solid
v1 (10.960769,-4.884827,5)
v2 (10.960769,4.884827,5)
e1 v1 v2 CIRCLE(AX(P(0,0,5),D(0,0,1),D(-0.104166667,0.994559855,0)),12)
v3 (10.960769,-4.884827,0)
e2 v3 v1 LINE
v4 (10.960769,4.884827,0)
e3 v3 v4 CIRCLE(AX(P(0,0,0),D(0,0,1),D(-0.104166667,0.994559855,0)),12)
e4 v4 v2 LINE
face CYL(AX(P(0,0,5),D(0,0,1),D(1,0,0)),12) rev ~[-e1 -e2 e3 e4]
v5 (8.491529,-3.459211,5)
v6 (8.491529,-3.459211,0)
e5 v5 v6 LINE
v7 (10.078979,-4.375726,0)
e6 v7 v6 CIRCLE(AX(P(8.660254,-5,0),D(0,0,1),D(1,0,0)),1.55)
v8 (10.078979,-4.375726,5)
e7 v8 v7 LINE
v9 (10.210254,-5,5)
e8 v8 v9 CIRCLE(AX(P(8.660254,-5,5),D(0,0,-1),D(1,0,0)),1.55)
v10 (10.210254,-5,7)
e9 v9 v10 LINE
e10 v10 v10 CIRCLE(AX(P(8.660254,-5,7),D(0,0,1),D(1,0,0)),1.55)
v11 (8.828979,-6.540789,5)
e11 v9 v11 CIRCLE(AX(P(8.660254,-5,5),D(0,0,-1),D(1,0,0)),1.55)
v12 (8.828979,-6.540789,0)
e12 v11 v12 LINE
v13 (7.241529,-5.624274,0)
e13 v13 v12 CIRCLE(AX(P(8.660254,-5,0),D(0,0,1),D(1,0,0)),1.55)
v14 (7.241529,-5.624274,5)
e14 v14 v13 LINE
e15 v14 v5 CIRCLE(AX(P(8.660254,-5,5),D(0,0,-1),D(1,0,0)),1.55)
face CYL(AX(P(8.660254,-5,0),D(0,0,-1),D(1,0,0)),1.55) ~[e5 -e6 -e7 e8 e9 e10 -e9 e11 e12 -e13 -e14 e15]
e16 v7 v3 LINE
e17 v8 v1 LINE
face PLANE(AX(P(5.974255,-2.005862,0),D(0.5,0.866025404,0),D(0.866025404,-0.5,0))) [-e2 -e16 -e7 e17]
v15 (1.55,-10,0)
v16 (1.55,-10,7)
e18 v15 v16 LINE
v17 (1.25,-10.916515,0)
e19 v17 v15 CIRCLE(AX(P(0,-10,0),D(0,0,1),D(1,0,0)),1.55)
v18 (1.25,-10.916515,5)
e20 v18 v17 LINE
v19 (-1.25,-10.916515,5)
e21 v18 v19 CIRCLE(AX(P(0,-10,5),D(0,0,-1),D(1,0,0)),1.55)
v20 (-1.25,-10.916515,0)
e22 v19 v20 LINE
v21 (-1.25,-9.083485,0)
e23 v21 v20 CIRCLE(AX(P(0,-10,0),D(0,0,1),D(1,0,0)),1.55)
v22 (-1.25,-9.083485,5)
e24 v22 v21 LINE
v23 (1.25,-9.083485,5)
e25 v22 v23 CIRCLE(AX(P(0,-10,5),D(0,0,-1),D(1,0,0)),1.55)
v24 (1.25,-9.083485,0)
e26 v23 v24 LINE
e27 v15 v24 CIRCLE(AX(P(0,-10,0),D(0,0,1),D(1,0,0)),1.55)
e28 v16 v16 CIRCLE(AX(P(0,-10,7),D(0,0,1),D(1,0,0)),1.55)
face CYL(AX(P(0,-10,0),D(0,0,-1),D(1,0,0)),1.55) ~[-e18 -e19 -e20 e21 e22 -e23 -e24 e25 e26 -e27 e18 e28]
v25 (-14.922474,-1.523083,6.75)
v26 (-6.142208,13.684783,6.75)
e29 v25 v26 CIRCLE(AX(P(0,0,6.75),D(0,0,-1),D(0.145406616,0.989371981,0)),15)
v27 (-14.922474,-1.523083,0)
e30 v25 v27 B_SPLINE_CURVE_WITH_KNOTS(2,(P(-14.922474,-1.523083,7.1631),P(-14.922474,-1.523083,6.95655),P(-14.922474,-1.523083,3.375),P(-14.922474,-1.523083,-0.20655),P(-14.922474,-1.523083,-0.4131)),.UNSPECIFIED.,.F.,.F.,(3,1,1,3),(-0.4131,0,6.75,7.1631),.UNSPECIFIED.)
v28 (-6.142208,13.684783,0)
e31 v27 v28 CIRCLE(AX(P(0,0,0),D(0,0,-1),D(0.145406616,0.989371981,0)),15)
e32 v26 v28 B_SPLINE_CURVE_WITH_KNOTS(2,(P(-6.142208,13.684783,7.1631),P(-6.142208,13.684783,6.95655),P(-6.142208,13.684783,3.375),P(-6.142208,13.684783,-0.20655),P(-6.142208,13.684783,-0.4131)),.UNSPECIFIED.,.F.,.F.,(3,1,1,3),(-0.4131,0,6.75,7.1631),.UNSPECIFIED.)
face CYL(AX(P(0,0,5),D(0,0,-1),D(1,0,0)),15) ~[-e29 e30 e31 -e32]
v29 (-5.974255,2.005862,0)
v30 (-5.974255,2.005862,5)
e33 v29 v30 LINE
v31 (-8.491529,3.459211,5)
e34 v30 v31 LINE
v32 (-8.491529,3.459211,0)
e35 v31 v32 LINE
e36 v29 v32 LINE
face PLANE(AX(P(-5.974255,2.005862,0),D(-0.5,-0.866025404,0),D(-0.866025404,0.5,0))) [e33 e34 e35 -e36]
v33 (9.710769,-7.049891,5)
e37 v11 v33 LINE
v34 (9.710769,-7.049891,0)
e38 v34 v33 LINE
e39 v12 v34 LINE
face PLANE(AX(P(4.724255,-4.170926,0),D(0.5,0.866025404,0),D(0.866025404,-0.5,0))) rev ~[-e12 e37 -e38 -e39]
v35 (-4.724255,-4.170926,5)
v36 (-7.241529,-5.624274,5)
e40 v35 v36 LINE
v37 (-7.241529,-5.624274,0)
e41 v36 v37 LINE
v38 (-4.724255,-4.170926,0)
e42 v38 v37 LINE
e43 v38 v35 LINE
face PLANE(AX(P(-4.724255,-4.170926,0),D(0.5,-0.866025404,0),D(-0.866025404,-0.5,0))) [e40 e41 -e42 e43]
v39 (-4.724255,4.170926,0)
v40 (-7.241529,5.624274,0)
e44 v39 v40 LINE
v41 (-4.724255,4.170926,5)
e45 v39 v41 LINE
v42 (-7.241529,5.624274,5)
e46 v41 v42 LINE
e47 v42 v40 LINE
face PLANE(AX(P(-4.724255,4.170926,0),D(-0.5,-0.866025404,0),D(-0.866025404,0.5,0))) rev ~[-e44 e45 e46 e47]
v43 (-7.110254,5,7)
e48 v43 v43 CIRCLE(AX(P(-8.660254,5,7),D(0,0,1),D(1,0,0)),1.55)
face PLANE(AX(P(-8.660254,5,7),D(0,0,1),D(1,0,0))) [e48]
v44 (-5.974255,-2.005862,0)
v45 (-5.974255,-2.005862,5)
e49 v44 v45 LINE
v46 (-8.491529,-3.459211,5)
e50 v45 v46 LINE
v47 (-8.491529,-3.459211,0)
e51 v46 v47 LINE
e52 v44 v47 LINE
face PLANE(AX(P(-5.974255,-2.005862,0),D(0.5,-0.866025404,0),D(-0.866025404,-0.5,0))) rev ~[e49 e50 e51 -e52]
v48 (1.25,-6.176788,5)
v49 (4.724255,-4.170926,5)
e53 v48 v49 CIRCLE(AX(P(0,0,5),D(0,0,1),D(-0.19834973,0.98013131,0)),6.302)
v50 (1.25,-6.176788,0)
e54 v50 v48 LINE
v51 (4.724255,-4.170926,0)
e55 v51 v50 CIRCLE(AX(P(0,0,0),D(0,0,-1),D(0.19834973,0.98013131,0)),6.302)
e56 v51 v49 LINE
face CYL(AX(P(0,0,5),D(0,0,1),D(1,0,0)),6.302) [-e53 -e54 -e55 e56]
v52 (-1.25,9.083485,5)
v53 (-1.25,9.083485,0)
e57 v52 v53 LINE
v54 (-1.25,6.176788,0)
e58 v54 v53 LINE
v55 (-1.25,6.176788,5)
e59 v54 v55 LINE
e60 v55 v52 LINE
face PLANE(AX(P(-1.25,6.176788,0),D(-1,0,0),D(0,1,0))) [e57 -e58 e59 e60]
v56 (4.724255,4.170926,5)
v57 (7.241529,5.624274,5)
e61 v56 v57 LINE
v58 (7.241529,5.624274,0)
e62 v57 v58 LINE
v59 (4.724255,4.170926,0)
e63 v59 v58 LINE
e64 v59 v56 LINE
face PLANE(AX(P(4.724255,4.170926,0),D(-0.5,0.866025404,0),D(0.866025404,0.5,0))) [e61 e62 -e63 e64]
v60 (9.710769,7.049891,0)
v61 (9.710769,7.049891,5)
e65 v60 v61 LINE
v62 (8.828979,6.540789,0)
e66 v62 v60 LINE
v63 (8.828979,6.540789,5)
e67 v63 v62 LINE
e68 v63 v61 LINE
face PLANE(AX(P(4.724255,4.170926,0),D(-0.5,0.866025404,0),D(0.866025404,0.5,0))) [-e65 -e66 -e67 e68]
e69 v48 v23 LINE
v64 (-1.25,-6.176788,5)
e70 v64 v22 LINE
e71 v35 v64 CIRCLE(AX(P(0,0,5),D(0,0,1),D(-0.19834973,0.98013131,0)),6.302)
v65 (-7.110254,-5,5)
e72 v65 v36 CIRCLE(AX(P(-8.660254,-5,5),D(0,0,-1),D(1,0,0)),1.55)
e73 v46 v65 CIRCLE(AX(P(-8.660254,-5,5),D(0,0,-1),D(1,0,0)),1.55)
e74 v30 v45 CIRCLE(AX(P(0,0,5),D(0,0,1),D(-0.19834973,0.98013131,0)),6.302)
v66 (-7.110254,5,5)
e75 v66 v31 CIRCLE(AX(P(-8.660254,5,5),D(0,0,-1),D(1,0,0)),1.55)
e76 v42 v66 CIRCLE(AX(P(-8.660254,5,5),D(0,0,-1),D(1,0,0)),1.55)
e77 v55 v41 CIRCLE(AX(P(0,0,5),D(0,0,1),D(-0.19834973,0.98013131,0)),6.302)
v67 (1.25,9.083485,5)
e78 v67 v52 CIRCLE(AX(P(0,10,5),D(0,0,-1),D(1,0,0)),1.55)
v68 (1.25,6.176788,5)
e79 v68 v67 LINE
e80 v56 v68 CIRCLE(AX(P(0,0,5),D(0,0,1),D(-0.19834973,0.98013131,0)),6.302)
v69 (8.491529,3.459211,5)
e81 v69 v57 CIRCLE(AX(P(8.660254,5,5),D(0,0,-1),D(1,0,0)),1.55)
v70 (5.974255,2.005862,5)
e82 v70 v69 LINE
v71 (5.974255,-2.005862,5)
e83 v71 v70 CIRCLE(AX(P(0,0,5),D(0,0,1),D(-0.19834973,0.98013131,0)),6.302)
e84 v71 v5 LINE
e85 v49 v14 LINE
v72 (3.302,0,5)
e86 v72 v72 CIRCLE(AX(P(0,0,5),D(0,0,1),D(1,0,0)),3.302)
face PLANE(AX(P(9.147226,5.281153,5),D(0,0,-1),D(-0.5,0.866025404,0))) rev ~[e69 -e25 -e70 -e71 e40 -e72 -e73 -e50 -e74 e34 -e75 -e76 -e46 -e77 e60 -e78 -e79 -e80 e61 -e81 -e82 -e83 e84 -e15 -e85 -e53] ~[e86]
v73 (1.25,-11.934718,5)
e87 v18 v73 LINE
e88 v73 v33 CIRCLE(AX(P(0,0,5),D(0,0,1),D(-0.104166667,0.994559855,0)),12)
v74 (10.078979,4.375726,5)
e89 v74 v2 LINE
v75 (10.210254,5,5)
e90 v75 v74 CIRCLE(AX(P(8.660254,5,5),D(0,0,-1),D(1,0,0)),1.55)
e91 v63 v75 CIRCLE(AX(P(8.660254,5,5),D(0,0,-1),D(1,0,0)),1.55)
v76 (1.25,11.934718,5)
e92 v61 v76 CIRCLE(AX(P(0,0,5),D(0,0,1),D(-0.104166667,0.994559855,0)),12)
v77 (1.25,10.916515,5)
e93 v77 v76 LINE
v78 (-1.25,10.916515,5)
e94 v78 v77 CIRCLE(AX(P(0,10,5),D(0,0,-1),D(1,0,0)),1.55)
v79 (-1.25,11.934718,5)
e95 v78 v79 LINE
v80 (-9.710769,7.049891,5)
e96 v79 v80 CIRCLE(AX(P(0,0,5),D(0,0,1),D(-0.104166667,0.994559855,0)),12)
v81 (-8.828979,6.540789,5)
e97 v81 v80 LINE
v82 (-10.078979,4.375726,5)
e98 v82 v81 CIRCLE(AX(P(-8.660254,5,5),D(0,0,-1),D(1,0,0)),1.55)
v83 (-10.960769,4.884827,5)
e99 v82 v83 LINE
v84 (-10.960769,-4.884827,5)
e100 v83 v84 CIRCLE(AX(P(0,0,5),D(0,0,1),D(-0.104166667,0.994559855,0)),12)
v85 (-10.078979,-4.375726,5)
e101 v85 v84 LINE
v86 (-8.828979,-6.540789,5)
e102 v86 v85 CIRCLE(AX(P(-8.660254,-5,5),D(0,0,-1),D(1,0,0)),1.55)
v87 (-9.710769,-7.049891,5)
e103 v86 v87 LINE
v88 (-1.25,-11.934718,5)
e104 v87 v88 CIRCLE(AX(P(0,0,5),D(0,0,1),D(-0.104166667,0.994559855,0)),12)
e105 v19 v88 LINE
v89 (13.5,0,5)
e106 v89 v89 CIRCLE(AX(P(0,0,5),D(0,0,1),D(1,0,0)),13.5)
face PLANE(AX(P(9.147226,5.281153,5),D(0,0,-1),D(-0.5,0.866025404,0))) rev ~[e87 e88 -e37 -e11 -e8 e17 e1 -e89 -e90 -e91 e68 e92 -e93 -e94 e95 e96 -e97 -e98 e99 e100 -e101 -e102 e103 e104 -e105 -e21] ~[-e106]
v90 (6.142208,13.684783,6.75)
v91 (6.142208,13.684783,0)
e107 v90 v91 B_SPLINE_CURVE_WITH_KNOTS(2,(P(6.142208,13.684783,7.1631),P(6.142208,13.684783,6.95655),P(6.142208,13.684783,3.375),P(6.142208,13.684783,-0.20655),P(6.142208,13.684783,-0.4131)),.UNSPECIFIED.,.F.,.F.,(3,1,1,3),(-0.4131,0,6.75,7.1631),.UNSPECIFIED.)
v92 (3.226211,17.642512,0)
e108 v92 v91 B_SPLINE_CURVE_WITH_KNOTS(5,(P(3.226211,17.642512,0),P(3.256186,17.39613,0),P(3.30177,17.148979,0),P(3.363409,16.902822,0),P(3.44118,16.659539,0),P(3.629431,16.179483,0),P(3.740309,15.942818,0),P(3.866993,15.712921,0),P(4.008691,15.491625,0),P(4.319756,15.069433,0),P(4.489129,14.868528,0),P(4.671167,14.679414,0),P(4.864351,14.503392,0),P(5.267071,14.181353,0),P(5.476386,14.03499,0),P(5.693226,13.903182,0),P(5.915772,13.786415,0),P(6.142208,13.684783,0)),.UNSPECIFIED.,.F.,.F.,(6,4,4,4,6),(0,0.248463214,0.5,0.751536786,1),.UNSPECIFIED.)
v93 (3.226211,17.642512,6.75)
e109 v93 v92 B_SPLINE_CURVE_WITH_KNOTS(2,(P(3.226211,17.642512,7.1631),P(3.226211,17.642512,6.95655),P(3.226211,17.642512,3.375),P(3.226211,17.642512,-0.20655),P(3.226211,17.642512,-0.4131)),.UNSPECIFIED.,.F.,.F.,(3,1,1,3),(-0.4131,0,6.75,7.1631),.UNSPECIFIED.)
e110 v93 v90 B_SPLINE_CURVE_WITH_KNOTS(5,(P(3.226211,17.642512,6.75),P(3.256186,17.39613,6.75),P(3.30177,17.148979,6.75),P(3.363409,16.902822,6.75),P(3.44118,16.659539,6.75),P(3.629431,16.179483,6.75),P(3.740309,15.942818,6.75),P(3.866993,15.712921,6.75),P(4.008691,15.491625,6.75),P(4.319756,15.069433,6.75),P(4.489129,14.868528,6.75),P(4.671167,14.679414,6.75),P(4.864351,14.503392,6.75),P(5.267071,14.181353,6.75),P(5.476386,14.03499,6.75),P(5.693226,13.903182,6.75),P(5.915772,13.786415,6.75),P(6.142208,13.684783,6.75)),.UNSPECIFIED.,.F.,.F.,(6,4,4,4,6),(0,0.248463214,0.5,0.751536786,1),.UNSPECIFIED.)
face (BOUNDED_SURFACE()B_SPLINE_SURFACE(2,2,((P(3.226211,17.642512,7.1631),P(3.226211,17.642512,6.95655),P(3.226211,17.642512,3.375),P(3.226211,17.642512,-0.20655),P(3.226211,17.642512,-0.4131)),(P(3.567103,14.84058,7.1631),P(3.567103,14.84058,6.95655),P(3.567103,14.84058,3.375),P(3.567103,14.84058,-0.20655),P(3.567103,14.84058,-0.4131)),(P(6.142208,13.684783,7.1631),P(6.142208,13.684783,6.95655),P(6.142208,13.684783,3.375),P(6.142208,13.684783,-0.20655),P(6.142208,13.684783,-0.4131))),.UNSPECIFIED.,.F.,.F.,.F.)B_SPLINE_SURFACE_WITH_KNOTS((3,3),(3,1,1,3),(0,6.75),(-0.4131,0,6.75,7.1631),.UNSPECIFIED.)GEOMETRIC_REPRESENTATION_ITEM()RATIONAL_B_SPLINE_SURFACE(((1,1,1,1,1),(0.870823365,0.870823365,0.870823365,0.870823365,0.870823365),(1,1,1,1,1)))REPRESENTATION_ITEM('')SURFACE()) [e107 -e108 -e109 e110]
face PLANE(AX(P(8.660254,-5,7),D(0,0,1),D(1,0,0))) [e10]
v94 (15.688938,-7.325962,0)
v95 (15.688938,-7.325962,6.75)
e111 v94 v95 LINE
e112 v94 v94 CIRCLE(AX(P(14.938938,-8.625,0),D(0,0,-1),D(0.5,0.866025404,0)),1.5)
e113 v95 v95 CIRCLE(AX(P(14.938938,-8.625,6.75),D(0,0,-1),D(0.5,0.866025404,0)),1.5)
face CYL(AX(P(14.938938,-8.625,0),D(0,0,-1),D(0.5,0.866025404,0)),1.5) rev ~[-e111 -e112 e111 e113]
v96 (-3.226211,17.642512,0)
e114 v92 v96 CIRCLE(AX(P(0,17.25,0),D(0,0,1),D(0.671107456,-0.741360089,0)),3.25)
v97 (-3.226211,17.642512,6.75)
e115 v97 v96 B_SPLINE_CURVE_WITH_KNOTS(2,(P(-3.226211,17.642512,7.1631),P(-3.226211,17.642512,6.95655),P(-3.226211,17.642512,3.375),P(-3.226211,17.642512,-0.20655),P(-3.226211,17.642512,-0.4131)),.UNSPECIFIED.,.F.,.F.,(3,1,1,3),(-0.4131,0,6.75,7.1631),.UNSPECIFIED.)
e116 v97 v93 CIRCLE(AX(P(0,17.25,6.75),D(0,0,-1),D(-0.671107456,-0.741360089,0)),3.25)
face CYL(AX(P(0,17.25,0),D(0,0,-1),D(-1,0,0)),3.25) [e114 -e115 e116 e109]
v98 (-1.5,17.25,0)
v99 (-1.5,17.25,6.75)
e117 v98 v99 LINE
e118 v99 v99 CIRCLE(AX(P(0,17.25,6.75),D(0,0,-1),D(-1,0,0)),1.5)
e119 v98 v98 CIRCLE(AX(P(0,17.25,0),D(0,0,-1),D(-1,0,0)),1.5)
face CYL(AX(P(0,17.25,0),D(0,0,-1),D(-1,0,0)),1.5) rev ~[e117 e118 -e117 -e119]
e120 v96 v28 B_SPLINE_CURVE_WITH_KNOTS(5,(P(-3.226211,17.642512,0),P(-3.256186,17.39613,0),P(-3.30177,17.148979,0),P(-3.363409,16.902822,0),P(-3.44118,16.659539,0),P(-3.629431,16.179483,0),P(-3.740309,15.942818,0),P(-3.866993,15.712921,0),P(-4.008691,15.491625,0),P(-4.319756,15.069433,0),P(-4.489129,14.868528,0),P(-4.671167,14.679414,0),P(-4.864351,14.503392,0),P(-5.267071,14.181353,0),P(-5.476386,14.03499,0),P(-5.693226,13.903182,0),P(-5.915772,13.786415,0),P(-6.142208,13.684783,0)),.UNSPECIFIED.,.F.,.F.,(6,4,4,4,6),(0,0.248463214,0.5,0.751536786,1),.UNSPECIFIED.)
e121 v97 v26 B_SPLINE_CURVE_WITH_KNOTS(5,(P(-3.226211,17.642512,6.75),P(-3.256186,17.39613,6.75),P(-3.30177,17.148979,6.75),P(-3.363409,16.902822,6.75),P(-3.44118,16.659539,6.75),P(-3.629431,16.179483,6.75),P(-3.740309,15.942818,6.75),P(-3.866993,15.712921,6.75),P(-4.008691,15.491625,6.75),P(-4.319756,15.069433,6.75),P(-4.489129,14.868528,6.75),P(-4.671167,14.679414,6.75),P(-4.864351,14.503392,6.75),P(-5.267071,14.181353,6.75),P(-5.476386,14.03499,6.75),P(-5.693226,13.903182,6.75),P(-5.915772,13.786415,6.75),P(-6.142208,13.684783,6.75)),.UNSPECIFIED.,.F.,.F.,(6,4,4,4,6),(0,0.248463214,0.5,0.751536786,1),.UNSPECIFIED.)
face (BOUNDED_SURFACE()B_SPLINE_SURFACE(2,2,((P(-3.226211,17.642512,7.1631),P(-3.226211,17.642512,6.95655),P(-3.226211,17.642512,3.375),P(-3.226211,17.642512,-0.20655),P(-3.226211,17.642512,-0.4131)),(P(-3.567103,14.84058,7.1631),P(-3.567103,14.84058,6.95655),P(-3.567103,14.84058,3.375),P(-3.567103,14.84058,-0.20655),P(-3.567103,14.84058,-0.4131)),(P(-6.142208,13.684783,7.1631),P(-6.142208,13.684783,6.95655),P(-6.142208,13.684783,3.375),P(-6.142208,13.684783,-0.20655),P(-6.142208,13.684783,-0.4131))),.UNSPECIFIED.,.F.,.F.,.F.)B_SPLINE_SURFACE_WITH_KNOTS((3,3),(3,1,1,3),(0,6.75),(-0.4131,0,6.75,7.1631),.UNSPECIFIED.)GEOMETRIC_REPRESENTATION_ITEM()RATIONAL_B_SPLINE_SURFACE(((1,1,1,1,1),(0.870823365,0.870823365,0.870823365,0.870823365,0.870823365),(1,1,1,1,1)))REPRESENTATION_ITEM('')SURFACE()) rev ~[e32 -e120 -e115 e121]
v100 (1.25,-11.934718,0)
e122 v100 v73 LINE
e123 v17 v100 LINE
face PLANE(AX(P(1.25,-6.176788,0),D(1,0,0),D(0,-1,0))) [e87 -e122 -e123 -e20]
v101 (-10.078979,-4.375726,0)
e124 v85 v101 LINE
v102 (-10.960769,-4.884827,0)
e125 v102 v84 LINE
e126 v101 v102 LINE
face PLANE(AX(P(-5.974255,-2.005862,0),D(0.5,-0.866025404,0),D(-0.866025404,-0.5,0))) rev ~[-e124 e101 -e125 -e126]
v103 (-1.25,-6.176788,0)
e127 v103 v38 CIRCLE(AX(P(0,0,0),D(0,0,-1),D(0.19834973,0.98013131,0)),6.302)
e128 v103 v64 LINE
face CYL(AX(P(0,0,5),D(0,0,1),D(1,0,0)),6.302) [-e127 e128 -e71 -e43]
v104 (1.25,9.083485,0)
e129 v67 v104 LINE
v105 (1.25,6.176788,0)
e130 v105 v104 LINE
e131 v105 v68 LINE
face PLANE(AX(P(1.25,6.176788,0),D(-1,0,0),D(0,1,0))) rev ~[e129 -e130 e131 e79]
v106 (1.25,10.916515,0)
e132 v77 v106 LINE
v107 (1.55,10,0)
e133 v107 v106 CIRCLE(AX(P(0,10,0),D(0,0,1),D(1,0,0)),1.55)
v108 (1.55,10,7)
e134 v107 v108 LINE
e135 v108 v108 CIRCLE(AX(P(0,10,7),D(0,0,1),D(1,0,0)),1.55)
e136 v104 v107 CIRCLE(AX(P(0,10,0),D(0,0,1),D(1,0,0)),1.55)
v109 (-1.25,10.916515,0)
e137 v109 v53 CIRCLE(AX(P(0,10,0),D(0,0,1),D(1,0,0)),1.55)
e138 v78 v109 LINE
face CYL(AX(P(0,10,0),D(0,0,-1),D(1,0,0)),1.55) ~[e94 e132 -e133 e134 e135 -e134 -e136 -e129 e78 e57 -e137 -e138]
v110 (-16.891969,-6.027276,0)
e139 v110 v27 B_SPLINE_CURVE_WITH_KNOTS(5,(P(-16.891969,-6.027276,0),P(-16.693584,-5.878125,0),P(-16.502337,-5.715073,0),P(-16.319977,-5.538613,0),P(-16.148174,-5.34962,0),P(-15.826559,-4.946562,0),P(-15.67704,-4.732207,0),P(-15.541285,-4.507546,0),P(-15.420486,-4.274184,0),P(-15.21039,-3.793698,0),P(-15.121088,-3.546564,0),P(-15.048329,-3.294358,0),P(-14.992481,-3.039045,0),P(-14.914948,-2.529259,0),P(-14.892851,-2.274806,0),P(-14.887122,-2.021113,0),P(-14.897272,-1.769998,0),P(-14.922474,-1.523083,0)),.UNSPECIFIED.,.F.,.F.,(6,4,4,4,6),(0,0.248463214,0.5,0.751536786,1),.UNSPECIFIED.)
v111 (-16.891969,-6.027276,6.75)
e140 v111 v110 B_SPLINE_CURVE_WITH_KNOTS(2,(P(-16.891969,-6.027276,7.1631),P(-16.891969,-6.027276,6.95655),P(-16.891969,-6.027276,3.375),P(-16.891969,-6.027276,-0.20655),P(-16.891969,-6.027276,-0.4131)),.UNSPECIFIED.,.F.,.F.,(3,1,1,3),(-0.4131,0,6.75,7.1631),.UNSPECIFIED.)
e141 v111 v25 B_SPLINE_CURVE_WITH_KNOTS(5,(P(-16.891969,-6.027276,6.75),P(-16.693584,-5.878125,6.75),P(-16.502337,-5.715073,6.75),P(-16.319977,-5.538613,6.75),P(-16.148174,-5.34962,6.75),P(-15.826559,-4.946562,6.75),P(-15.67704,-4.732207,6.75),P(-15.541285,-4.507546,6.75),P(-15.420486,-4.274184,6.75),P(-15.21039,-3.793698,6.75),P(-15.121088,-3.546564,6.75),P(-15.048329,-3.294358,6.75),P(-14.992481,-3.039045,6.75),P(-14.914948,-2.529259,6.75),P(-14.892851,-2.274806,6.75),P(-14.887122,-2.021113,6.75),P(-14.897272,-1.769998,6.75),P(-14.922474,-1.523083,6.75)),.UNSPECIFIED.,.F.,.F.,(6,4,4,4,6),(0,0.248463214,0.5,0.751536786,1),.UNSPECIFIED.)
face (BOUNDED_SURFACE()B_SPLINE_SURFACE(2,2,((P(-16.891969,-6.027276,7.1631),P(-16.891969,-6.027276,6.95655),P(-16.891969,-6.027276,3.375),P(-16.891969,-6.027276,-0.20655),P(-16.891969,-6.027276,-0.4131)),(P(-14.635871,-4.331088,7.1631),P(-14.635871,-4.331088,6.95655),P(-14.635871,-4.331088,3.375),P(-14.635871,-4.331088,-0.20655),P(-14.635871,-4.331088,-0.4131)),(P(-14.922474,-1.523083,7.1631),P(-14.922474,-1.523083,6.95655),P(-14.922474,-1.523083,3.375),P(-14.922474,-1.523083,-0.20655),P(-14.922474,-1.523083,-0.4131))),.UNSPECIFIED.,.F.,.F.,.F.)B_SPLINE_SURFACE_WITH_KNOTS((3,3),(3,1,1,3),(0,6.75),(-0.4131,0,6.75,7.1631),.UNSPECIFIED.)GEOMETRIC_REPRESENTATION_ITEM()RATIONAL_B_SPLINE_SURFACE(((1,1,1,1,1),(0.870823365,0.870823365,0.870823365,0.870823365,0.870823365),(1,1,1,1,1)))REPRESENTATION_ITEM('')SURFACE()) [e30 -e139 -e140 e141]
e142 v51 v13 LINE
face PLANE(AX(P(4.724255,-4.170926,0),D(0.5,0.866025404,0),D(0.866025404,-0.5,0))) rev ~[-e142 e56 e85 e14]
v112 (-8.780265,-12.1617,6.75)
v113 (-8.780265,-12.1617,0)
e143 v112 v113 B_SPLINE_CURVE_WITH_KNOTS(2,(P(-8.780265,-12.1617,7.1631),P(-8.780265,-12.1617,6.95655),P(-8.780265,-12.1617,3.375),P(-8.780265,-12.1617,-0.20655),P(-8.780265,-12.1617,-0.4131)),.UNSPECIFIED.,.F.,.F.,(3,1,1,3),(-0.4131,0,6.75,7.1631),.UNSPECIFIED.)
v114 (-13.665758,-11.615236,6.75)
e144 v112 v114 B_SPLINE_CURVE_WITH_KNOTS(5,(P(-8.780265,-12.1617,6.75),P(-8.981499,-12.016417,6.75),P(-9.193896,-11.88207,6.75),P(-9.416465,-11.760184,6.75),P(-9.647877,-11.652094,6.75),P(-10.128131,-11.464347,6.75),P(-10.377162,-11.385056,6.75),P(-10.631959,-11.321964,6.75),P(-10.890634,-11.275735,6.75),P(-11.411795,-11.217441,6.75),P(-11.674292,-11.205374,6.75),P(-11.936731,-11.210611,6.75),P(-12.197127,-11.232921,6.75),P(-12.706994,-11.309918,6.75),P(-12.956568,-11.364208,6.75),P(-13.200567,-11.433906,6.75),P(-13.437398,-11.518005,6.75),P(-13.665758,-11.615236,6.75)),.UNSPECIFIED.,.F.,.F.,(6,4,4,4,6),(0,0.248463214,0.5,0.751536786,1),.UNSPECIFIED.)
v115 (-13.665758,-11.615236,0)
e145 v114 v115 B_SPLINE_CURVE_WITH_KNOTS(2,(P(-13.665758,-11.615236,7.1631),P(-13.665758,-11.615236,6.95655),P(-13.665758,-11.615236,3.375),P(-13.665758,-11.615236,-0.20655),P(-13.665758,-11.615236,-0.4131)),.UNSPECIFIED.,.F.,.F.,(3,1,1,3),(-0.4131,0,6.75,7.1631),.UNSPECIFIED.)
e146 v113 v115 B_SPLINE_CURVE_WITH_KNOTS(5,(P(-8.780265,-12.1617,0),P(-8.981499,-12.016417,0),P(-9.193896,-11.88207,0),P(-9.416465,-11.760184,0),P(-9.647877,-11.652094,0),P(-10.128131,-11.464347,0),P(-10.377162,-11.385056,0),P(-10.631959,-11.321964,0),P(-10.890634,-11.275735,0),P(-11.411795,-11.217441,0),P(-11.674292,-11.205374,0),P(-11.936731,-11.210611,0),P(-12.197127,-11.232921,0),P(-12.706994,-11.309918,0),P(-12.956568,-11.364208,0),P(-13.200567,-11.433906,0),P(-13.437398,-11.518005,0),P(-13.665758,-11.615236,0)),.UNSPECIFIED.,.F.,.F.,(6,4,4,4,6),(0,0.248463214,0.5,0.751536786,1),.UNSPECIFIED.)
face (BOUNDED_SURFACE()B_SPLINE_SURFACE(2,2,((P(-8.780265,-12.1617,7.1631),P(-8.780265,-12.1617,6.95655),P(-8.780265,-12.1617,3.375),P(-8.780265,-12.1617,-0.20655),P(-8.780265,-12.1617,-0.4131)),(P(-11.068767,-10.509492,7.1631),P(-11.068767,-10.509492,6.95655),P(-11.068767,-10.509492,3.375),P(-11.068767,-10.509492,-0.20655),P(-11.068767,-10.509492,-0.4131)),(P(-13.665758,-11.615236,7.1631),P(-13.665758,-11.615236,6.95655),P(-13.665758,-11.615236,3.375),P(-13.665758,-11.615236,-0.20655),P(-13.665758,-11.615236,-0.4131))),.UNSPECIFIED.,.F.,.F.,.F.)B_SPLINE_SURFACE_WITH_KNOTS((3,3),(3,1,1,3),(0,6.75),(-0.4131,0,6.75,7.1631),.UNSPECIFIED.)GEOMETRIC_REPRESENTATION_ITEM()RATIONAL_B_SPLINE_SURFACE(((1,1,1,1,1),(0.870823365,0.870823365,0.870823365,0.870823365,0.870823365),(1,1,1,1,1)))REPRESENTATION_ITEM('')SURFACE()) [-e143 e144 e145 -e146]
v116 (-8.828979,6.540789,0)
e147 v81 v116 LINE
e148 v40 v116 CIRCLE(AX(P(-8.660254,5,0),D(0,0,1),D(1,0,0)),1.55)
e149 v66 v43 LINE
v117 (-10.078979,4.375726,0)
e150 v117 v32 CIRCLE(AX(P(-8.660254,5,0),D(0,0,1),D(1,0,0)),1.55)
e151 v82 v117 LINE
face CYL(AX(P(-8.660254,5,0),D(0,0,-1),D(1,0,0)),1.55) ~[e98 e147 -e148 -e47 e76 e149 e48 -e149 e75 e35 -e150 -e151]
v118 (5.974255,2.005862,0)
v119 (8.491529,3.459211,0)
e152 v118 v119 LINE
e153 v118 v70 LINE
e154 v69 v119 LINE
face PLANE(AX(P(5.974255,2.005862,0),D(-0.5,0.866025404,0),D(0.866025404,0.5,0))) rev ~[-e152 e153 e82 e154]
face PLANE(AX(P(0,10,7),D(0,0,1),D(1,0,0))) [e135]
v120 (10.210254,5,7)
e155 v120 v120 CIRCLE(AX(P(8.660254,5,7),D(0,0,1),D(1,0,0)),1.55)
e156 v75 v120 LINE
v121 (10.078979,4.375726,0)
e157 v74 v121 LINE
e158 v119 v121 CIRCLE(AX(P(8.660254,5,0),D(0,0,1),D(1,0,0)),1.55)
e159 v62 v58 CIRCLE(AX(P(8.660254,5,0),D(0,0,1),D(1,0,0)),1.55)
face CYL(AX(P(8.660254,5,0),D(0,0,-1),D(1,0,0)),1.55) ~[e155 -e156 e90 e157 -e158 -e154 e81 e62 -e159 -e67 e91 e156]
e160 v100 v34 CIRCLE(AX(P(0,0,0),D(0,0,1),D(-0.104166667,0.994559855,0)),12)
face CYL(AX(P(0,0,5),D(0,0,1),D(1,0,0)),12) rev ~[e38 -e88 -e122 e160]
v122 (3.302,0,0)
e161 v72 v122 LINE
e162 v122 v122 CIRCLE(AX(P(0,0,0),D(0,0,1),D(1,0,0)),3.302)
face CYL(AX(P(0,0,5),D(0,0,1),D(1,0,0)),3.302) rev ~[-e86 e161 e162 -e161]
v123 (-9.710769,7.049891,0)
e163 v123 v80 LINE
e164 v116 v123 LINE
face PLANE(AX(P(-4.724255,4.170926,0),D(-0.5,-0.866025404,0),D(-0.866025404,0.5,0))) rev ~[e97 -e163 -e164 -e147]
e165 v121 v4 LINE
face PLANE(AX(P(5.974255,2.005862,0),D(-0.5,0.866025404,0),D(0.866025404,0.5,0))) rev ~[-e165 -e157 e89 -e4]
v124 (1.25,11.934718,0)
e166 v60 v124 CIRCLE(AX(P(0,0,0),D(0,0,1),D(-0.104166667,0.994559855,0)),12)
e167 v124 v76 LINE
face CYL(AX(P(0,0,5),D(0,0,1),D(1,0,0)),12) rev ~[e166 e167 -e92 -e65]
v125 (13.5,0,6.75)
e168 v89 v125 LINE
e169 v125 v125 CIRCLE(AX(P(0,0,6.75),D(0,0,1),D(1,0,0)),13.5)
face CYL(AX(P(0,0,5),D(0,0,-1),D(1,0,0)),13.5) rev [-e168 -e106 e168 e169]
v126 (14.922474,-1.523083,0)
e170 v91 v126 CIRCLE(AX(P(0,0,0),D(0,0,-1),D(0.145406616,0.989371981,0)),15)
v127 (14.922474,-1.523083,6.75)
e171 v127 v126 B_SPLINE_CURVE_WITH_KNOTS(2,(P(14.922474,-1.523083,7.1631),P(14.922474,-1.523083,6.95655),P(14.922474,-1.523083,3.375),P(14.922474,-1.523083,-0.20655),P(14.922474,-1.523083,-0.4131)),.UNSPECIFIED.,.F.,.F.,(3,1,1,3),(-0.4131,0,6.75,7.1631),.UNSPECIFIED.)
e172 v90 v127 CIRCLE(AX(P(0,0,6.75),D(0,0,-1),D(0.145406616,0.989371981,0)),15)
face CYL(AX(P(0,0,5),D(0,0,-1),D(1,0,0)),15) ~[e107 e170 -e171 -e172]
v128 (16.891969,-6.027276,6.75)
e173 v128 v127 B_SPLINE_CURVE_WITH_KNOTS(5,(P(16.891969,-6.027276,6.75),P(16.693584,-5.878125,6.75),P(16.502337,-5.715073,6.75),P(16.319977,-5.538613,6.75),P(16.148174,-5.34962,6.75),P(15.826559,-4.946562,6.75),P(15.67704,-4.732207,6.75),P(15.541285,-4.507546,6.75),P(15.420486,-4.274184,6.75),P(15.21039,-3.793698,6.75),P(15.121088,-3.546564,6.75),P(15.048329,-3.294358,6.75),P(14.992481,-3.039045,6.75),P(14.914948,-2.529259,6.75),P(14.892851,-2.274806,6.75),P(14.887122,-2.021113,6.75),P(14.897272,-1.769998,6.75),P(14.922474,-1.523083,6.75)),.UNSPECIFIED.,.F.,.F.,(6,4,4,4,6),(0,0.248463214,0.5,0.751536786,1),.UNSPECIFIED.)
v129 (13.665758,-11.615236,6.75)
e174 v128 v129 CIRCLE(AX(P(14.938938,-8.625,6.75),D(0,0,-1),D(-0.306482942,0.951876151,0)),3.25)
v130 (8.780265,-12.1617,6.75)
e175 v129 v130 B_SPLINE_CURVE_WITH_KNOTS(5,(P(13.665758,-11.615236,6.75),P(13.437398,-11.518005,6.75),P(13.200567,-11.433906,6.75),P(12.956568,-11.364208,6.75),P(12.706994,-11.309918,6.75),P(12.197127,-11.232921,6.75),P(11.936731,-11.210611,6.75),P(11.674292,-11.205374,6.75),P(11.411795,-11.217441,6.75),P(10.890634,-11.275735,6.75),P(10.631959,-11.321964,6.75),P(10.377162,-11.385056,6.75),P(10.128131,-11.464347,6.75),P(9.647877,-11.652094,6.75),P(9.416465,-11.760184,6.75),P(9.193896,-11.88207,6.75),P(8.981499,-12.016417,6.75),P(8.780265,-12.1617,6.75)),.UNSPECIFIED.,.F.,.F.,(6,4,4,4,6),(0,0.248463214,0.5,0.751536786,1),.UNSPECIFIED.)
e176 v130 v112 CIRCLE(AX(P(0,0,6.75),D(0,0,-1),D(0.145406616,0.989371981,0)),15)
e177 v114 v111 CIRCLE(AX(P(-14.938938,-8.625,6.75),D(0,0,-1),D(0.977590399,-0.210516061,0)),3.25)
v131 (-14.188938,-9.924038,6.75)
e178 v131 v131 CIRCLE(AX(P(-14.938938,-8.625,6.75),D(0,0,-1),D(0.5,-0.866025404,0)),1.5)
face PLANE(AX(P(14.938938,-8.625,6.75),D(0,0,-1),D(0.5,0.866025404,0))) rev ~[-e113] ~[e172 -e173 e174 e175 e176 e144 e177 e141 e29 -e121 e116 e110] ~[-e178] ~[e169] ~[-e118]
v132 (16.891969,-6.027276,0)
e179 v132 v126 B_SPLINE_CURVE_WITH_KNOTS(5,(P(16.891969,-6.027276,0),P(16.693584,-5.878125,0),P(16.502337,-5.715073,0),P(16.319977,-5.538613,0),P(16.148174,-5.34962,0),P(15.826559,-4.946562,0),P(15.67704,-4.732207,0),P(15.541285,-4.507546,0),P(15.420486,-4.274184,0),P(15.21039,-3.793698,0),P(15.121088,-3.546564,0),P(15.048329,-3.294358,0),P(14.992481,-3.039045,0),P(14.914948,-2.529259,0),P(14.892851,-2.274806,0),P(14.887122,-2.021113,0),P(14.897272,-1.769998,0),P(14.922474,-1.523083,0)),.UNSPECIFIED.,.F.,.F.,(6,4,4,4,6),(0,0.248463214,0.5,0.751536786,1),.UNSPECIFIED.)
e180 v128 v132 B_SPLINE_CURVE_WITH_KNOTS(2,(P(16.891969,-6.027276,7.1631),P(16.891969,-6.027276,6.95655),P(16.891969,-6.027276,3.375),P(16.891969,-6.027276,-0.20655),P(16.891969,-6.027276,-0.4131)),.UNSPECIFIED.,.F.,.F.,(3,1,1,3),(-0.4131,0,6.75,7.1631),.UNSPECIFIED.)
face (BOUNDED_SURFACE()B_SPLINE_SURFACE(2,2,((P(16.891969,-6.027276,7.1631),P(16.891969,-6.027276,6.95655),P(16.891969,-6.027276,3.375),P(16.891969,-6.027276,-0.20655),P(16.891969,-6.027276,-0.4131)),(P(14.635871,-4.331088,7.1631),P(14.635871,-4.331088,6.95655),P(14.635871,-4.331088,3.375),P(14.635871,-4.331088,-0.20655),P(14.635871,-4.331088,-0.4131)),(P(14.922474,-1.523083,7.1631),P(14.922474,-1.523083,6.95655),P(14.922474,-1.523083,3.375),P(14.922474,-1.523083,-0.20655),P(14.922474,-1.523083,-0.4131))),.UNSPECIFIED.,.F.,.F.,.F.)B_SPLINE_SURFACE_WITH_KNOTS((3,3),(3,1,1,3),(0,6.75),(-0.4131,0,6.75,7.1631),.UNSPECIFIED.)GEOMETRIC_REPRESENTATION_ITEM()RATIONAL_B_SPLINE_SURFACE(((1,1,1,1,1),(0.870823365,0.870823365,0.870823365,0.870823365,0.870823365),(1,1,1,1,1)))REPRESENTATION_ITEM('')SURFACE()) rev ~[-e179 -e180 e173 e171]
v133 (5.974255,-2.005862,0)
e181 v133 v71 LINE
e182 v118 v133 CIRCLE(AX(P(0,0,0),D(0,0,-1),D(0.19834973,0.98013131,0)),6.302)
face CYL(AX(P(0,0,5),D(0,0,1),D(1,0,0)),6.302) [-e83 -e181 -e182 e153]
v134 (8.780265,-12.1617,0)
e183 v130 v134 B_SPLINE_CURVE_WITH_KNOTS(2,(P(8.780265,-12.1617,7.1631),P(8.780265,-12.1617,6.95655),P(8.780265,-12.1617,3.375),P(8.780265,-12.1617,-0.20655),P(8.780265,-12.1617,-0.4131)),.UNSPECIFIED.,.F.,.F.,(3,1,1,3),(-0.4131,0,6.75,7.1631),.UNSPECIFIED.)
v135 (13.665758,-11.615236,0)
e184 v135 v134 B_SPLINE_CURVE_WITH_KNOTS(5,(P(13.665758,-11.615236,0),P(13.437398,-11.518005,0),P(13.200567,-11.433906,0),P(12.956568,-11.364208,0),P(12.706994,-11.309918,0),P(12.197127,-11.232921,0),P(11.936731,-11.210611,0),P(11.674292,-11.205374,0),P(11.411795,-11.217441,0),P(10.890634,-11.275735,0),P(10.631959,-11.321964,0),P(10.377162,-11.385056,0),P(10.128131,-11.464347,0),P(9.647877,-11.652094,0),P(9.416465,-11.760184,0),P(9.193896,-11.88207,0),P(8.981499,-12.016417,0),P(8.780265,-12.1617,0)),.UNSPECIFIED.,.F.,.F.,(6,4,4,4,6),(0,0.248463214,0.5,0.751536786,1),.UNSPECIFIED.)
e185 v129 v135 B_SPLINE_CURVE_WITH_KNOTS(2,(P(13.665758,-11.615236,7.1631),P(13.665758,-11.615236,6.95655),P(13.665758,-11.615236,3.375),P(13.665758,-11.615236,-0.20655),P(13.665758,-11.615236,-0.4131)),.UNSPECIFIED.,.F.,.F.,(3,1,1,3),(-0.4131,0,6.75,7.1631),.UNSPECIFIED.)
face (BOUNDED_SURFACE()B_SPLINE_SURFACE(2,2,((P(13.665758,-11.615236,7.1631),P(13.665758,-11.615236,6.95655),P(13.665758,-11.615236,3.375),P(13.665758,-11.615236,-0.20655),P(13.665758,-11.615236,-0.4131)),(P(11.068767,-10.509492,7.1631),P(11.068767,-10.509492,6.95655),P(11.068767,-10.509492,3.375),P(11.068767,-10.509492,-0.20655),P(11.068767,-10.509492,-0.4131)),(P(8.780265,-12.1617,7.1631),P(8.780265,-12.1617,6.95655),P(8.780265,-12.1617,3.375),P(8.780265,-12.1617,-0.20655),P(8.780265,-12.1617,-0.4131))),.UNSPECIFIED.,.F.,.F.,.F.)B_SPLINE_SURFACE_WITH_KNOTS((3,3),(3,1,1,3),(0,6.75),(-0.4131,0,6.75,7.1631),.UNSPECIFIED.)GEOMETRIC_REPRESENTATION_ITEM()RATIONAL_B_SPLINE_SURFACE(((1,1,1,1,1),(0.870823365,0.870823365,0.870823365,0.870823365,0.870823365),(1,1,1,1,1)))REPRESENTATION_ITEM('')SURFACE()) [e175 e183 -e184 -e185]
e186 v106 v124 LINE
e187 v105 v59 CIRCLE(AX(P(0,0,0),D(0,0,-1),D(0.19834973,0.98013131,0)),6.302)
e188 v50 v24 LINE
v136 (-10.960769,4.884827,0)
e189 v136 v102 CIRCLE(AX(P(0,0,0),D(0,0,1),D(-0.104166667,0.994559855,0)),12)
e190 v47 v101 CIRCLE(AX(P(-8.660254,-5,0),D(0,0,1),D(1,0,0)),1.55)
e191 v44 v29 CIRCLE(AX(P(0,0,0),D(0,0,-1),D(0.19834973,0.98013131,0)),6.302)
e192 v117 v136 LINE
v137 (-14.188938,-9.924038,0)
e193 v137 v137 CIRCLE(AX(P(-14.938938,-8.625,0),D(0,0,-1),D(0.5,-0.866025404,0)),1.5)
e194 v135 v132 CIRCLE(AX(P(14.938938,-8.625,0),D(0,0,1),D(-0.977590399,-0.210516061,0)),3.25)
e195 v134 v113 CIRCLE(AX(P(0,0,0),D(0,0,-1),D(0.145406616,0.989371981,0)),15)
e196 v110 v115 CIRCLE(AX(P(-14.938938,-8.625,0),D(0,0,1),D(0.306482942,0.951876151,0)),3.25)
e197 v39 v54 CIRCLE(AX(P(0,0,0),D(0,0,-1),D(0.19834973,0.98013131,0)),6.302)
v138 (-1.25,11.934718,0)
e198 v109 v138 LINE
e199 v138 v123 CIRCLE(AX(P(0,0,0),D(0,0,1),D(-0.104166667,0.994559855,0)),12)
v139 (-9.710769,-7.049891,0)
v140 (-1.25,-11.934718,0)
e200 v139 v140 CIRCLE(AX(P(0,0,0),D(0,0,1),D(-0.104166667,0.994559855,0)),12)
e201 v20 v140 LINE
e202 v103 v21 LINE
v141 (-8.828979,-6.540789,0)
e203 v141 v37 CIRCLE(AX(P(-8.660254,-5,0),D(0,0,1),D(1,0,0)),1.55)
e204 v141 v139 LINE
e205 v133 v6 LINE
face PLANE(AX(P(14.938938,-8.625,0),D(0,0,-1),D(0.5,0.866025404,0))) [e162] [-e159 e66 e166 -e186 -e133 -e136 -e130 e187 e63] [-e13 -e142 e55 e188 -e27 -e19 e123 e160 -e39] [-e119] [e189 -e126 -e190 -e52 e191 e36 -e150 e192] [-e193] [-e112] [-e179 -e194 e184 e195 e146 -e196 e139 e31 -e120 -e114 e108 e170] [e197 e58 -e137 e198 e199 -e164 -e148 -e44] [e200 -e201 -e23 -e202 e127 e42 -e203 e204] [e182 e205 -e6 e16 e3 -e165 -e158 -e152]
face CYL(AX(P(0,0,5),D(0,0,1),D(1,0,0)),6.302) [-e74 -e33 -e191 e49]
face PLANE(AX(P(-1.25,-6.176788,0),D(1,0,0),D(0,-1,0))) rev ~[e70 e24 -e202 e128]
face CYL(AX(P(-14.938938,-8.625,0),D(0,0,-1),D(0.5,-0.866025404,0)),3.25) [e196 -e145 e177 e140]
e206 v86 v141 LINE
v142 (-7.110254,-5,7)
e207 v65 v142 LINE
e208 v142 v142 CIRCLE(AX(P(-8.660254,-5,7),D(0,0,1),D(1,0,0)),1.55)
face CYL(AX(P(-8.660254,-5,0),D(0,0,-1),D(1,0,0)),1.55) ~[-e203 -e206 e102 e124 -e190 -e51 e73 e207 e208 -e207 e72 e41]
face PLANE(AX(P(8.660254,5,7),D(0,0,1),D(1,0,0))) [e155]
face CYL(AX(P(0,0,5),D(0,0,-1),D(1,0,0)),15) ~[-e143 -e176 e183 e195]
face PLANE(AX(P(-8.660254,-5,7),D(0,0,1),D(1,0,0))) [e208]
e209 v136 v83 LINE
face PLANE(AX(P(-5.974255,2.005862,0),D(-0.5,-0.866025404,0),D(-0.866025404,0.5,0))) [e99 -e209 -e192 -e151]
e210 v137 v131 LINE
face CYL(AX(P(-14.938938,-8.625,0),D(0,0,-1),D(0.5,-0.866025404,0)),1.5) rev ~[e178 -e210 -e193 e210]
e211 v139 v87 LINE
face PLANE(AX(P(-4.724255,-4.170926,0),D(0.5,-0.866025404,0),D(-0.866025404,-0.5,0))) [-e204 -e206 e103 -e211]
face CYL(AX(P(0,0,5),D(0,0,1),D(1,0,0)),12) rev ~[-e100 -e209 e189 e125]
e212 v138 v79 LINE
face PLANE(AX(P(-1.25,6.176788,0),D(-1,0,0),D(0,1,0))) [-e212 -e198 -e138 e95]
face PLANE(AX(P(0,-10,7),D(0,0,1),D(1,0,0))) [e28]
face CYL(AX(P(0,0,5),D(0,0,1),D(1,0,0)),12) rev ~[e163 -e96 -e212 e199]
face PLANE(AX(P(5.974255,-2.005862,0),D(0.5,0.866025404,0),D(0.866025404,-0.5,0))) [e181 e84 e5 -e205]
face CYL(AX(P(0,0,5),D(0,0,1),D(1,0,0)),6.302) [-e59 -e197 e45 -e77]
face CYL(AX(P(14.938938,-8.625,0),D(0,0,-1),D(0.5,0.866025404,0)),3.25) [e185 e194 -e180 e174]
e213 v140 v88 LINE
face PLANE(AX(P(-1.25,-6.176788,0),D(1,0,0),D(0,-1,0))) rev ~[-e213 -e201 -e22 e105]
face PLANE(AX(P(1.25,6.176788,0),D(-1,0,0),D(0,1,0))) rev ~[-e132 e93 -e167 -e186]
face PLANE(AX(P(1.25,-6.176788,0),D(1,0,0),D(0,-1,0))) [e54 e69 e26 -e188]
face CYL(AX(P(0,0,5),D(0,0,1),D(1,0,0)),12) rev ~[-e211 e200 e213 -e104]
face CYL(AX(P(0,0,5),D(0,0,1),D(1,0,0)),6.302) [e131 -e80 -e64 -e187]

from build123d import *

# Parameters (mm, degrees)
SKETCH1_R                = 15
BOSS_EXTRUDE1_DEPTH      = 5
SKETCH2_R                = 12
SKETCH2_R_2              = 6.302
SKETCH2_R_3              = 3.302
CUT_EXTRUDE1_DEPTH       = 22.794494718
SKETCH4_R                = 1.55
BOSS_EXTRUDE2_DEPTH      = 7
BOSS_EXTRUDE2_2_DEPTH    = 7
BOSS_EXTRUDE2_3_DEPTH    = 7
BOSS_EXTRUDE2_4_DEPTH    = 7
BOSS_EXTRUDE2_5_DEPTH    = 7
BOSS_EXTRUDE2_6_DEPTH    = 7
SKETCH5_W                = 2.5
SKETCH5_H                = 8.771038414
BOSS_EXTRUDE3_DEPTH      = 5
CIRPATTERN1_COUNT        = 6
SKETCH6_R                = 15
SKETCH6_R_2              = 13.5
BOSS_EXTRUDE4_DEPTH      = 1.75
SKETCH7_R                = 3.25
SKETCH7_R_2              = 1.5
BOSS_EXTRUDE5_DEPTH      = 6.75
FILLET2_R                = 5
CIRPATTERN2_COUNT        = 3
FILLET2_OF_CIRPATTERN2_R = 5


with BuildPart() as part:
    # Sketch1 → Boss-Extrude1 (new body)
    with BuildSketch(Plane.XY):
        Circle(SKETCH1_R)
    extrude(amount=BOSS_EXTRUDE1_DEPTH)

    # Sketch2 → Cut-Extrude1 (cut, through all)
    with BuildSketch(Plane.XY.offset(5)):
        Circle(SKETCH2_R)
        Circle(SKETCH2_R_2, mode=Mode.SUBTRACT)
        Circle(SKETCH2_R_3)
    extrude(amount=-CUT_EXTRUDE1_DEPTH, mode=Mode.SUBTRACT)


with BuildPart() as cut_extrude1_piece_1:
    # of the separate pieces the step leaves, piece 1, a body of its own (cut_extrude1_pieces)
    add(part.part.solids().sort_by_distance((15, 0, 0))[0])



with BuildPart() as cut_extrude1_piece_2:
    # of the separate pieces the step leaves, piece 2, a body of its own (cut_extrude1_pieces)
    add(part.part.solids().sort_by_distance((6.302, 0, 0))[0])


with BuildPart() as body_3:
    # Sketch4 → Boss-Extrude2 (new body)
    with BuildSketch(Plane.XY):
        with Locations((0, 10)):
            Circle(SKETCH4_R)
    extrude(amount=BOSS_EXTRUDE2_DEPTH)


with BuildPart() as body_4:
    # Sketch4 → Boss-Extrude2 2 (new body)
    with BuildSketch(Plane.XY):
        with Locations((-8.660254038, 5)):
            Circle(SKETCH4_R)
    extrude(amount=BOSS_EXTRUDE2_2_DEPTH)


with BuildPart() as body_5:
    # Sketch4 → Boss-Extrude2 3 (new body)
    with BuildSketch(Plane.XY):
        with Locations((-8.660254038, -5)):
            Circle(SKETCH4_R)
    extrude(amount=BOSS_EXTRUDE2_3_DEPTH)


with BuildPart() as body_6:
    # Sketch4 → Boss-Extrude2 4 (new body)
    with BuildSketch(Plane.XY):
        with Locations((0, -10)):
            Circle(SKETCH4_R)
    extrude(amount=BOSS_EXTRUDE2_4_DEPTH)


with BuildPart() as body_7:
    # Sketch4 → Boss-Extrude2 5 (new body)
    with BuildSketch(Plane.XY):
        with Locations((8.660254038, -5)):
            Circle(SKETCH4_R)
    extrude(amount=BOSS_EXTRUDE2_5_DEPTH)


with BuildPart() as body_8:
    # Sketch4 → Boss-Extrude2 6 (new body)
    with BuildSketch(Plane.XY):
        with Locations((8.660254038, 5)):
            Circle(SKETCH4_R)
    extrude(amount=BOSS_EXTRUDE2_6_DEPTH)



with BuildPart() as cut_extrude1_piece_1_1:
    add(cut_extrude1_piece_1.part)

    add(cut_extrude1_piece_2.part)  # Boss-Extrude3 merges Cut-Extrude1 piece 2
    # Sketch5 → Boss-Extrude3 (add)
    with BuildSketch(Plane(origin=(0, 0, 0), x_dir=(-1, 0, 0), z_dir=(0, 0, -1))):
        with Locations((0, 10.562306722)):
            Rectangle(SKETCH5_W, SKETCH5_H)
    boss_extrude3 = extrude(amount=-BOSS_EXTRUDE3_DEPTH)

    # CirPattern1: Boss-Extrude3 ×6 about axis
    cirpattern1_axis = Axis((0, 0, 0), (0, 0, 1))
    for i in range(1, CIRPATTERN1_COUNT):
        add(boss_extrude3.rotate(cirpattern1_axis, i * 360 / CIRPATTERN1_COUNT))


with BuildPart() as body_8_1:
    add(body_8.part)

    add(cut_extrude1_piece_1_1.part)  # Boss-Extrude4 merges Cut-Extrude1 piece 1

    add(body_3.part)  # Boss-Extrude4 merges body 3

    add(body_4.part)  # Boss-Extrude4 merges body 4

    add(body_5.part)  # Boss-Extrude4 merges body 5

    add(body_6.part)  # Boss-Extrude4 merges body 6

    add(body_7.part)  # Boss-Extrude4 merges body 7
    # Sketch6 → Boss-Extrude4 (add)
    with BuildSketch(Plane.XY.offset(5)):
        Circle(SKETCH6_R)
        Circle(SKETCH6_R_2, mode=Mode.SUBTRACT)
    extrude(amount=BOSS_EXTRUDE4_DEPTH)

    # Sketch7 → Boss-Extrude5 (add)
    with BuildSketch(Plane(origin=(0, 0, 0), x_dir=(-1, 0, 0), z_dir=(0, 0, -1))):
        with Locations((0, 17.25)):
            Circle(SKETCH7_R)
        with Locations((0, 17.25)):
            Circle(SKETCH7_R_2, mode=Mode.SUBTRACT)
    boss_extrude5 = extrude(amount=-BOSS_EXTRUDE5_DEPTH)

    # Fillet2
    fillet2_edges = [body_8_1.edges().sort_by_distance(p)[0] for p in [
        (2.181099234, 14.84057971, 3.375),
        (-2.181099234, 14.84057971, 3.375),
    ]]
    fillet(fillet2_edges, radius=FILLET2_R)

    # CirPattern2: Boss-Extrude5 ×3 about axis
    cirpattern2_axis = Axis((0, 0, 0), (0, 0, 1))
    for i in range(1, CIRPATTERN2_COUNT):
        add(boss_extrude5.rotate(cirpattern2_axis, i * 360 / CIRPATTERN2_COUNT))

    # Fillet2 of CirPattern2
    fillet2_of_cirpattern2_edges = [body_8_1.edges().sort_by_distance(p)[0] for p in [
        (-13.942868653, -5.531402511, 3.375),
        (-11.761769419, -9.3091772, 3.375),
        (11.761769419, -9.3091772, 3.375),
        (13.942868653, -5.531402511, 3.375),
    ]]
    fillet(fillet2_of_cirpattern2_edges, radius=FILLET2_OF_CIRPATTERN2_R)


solid = body_8_1.part
